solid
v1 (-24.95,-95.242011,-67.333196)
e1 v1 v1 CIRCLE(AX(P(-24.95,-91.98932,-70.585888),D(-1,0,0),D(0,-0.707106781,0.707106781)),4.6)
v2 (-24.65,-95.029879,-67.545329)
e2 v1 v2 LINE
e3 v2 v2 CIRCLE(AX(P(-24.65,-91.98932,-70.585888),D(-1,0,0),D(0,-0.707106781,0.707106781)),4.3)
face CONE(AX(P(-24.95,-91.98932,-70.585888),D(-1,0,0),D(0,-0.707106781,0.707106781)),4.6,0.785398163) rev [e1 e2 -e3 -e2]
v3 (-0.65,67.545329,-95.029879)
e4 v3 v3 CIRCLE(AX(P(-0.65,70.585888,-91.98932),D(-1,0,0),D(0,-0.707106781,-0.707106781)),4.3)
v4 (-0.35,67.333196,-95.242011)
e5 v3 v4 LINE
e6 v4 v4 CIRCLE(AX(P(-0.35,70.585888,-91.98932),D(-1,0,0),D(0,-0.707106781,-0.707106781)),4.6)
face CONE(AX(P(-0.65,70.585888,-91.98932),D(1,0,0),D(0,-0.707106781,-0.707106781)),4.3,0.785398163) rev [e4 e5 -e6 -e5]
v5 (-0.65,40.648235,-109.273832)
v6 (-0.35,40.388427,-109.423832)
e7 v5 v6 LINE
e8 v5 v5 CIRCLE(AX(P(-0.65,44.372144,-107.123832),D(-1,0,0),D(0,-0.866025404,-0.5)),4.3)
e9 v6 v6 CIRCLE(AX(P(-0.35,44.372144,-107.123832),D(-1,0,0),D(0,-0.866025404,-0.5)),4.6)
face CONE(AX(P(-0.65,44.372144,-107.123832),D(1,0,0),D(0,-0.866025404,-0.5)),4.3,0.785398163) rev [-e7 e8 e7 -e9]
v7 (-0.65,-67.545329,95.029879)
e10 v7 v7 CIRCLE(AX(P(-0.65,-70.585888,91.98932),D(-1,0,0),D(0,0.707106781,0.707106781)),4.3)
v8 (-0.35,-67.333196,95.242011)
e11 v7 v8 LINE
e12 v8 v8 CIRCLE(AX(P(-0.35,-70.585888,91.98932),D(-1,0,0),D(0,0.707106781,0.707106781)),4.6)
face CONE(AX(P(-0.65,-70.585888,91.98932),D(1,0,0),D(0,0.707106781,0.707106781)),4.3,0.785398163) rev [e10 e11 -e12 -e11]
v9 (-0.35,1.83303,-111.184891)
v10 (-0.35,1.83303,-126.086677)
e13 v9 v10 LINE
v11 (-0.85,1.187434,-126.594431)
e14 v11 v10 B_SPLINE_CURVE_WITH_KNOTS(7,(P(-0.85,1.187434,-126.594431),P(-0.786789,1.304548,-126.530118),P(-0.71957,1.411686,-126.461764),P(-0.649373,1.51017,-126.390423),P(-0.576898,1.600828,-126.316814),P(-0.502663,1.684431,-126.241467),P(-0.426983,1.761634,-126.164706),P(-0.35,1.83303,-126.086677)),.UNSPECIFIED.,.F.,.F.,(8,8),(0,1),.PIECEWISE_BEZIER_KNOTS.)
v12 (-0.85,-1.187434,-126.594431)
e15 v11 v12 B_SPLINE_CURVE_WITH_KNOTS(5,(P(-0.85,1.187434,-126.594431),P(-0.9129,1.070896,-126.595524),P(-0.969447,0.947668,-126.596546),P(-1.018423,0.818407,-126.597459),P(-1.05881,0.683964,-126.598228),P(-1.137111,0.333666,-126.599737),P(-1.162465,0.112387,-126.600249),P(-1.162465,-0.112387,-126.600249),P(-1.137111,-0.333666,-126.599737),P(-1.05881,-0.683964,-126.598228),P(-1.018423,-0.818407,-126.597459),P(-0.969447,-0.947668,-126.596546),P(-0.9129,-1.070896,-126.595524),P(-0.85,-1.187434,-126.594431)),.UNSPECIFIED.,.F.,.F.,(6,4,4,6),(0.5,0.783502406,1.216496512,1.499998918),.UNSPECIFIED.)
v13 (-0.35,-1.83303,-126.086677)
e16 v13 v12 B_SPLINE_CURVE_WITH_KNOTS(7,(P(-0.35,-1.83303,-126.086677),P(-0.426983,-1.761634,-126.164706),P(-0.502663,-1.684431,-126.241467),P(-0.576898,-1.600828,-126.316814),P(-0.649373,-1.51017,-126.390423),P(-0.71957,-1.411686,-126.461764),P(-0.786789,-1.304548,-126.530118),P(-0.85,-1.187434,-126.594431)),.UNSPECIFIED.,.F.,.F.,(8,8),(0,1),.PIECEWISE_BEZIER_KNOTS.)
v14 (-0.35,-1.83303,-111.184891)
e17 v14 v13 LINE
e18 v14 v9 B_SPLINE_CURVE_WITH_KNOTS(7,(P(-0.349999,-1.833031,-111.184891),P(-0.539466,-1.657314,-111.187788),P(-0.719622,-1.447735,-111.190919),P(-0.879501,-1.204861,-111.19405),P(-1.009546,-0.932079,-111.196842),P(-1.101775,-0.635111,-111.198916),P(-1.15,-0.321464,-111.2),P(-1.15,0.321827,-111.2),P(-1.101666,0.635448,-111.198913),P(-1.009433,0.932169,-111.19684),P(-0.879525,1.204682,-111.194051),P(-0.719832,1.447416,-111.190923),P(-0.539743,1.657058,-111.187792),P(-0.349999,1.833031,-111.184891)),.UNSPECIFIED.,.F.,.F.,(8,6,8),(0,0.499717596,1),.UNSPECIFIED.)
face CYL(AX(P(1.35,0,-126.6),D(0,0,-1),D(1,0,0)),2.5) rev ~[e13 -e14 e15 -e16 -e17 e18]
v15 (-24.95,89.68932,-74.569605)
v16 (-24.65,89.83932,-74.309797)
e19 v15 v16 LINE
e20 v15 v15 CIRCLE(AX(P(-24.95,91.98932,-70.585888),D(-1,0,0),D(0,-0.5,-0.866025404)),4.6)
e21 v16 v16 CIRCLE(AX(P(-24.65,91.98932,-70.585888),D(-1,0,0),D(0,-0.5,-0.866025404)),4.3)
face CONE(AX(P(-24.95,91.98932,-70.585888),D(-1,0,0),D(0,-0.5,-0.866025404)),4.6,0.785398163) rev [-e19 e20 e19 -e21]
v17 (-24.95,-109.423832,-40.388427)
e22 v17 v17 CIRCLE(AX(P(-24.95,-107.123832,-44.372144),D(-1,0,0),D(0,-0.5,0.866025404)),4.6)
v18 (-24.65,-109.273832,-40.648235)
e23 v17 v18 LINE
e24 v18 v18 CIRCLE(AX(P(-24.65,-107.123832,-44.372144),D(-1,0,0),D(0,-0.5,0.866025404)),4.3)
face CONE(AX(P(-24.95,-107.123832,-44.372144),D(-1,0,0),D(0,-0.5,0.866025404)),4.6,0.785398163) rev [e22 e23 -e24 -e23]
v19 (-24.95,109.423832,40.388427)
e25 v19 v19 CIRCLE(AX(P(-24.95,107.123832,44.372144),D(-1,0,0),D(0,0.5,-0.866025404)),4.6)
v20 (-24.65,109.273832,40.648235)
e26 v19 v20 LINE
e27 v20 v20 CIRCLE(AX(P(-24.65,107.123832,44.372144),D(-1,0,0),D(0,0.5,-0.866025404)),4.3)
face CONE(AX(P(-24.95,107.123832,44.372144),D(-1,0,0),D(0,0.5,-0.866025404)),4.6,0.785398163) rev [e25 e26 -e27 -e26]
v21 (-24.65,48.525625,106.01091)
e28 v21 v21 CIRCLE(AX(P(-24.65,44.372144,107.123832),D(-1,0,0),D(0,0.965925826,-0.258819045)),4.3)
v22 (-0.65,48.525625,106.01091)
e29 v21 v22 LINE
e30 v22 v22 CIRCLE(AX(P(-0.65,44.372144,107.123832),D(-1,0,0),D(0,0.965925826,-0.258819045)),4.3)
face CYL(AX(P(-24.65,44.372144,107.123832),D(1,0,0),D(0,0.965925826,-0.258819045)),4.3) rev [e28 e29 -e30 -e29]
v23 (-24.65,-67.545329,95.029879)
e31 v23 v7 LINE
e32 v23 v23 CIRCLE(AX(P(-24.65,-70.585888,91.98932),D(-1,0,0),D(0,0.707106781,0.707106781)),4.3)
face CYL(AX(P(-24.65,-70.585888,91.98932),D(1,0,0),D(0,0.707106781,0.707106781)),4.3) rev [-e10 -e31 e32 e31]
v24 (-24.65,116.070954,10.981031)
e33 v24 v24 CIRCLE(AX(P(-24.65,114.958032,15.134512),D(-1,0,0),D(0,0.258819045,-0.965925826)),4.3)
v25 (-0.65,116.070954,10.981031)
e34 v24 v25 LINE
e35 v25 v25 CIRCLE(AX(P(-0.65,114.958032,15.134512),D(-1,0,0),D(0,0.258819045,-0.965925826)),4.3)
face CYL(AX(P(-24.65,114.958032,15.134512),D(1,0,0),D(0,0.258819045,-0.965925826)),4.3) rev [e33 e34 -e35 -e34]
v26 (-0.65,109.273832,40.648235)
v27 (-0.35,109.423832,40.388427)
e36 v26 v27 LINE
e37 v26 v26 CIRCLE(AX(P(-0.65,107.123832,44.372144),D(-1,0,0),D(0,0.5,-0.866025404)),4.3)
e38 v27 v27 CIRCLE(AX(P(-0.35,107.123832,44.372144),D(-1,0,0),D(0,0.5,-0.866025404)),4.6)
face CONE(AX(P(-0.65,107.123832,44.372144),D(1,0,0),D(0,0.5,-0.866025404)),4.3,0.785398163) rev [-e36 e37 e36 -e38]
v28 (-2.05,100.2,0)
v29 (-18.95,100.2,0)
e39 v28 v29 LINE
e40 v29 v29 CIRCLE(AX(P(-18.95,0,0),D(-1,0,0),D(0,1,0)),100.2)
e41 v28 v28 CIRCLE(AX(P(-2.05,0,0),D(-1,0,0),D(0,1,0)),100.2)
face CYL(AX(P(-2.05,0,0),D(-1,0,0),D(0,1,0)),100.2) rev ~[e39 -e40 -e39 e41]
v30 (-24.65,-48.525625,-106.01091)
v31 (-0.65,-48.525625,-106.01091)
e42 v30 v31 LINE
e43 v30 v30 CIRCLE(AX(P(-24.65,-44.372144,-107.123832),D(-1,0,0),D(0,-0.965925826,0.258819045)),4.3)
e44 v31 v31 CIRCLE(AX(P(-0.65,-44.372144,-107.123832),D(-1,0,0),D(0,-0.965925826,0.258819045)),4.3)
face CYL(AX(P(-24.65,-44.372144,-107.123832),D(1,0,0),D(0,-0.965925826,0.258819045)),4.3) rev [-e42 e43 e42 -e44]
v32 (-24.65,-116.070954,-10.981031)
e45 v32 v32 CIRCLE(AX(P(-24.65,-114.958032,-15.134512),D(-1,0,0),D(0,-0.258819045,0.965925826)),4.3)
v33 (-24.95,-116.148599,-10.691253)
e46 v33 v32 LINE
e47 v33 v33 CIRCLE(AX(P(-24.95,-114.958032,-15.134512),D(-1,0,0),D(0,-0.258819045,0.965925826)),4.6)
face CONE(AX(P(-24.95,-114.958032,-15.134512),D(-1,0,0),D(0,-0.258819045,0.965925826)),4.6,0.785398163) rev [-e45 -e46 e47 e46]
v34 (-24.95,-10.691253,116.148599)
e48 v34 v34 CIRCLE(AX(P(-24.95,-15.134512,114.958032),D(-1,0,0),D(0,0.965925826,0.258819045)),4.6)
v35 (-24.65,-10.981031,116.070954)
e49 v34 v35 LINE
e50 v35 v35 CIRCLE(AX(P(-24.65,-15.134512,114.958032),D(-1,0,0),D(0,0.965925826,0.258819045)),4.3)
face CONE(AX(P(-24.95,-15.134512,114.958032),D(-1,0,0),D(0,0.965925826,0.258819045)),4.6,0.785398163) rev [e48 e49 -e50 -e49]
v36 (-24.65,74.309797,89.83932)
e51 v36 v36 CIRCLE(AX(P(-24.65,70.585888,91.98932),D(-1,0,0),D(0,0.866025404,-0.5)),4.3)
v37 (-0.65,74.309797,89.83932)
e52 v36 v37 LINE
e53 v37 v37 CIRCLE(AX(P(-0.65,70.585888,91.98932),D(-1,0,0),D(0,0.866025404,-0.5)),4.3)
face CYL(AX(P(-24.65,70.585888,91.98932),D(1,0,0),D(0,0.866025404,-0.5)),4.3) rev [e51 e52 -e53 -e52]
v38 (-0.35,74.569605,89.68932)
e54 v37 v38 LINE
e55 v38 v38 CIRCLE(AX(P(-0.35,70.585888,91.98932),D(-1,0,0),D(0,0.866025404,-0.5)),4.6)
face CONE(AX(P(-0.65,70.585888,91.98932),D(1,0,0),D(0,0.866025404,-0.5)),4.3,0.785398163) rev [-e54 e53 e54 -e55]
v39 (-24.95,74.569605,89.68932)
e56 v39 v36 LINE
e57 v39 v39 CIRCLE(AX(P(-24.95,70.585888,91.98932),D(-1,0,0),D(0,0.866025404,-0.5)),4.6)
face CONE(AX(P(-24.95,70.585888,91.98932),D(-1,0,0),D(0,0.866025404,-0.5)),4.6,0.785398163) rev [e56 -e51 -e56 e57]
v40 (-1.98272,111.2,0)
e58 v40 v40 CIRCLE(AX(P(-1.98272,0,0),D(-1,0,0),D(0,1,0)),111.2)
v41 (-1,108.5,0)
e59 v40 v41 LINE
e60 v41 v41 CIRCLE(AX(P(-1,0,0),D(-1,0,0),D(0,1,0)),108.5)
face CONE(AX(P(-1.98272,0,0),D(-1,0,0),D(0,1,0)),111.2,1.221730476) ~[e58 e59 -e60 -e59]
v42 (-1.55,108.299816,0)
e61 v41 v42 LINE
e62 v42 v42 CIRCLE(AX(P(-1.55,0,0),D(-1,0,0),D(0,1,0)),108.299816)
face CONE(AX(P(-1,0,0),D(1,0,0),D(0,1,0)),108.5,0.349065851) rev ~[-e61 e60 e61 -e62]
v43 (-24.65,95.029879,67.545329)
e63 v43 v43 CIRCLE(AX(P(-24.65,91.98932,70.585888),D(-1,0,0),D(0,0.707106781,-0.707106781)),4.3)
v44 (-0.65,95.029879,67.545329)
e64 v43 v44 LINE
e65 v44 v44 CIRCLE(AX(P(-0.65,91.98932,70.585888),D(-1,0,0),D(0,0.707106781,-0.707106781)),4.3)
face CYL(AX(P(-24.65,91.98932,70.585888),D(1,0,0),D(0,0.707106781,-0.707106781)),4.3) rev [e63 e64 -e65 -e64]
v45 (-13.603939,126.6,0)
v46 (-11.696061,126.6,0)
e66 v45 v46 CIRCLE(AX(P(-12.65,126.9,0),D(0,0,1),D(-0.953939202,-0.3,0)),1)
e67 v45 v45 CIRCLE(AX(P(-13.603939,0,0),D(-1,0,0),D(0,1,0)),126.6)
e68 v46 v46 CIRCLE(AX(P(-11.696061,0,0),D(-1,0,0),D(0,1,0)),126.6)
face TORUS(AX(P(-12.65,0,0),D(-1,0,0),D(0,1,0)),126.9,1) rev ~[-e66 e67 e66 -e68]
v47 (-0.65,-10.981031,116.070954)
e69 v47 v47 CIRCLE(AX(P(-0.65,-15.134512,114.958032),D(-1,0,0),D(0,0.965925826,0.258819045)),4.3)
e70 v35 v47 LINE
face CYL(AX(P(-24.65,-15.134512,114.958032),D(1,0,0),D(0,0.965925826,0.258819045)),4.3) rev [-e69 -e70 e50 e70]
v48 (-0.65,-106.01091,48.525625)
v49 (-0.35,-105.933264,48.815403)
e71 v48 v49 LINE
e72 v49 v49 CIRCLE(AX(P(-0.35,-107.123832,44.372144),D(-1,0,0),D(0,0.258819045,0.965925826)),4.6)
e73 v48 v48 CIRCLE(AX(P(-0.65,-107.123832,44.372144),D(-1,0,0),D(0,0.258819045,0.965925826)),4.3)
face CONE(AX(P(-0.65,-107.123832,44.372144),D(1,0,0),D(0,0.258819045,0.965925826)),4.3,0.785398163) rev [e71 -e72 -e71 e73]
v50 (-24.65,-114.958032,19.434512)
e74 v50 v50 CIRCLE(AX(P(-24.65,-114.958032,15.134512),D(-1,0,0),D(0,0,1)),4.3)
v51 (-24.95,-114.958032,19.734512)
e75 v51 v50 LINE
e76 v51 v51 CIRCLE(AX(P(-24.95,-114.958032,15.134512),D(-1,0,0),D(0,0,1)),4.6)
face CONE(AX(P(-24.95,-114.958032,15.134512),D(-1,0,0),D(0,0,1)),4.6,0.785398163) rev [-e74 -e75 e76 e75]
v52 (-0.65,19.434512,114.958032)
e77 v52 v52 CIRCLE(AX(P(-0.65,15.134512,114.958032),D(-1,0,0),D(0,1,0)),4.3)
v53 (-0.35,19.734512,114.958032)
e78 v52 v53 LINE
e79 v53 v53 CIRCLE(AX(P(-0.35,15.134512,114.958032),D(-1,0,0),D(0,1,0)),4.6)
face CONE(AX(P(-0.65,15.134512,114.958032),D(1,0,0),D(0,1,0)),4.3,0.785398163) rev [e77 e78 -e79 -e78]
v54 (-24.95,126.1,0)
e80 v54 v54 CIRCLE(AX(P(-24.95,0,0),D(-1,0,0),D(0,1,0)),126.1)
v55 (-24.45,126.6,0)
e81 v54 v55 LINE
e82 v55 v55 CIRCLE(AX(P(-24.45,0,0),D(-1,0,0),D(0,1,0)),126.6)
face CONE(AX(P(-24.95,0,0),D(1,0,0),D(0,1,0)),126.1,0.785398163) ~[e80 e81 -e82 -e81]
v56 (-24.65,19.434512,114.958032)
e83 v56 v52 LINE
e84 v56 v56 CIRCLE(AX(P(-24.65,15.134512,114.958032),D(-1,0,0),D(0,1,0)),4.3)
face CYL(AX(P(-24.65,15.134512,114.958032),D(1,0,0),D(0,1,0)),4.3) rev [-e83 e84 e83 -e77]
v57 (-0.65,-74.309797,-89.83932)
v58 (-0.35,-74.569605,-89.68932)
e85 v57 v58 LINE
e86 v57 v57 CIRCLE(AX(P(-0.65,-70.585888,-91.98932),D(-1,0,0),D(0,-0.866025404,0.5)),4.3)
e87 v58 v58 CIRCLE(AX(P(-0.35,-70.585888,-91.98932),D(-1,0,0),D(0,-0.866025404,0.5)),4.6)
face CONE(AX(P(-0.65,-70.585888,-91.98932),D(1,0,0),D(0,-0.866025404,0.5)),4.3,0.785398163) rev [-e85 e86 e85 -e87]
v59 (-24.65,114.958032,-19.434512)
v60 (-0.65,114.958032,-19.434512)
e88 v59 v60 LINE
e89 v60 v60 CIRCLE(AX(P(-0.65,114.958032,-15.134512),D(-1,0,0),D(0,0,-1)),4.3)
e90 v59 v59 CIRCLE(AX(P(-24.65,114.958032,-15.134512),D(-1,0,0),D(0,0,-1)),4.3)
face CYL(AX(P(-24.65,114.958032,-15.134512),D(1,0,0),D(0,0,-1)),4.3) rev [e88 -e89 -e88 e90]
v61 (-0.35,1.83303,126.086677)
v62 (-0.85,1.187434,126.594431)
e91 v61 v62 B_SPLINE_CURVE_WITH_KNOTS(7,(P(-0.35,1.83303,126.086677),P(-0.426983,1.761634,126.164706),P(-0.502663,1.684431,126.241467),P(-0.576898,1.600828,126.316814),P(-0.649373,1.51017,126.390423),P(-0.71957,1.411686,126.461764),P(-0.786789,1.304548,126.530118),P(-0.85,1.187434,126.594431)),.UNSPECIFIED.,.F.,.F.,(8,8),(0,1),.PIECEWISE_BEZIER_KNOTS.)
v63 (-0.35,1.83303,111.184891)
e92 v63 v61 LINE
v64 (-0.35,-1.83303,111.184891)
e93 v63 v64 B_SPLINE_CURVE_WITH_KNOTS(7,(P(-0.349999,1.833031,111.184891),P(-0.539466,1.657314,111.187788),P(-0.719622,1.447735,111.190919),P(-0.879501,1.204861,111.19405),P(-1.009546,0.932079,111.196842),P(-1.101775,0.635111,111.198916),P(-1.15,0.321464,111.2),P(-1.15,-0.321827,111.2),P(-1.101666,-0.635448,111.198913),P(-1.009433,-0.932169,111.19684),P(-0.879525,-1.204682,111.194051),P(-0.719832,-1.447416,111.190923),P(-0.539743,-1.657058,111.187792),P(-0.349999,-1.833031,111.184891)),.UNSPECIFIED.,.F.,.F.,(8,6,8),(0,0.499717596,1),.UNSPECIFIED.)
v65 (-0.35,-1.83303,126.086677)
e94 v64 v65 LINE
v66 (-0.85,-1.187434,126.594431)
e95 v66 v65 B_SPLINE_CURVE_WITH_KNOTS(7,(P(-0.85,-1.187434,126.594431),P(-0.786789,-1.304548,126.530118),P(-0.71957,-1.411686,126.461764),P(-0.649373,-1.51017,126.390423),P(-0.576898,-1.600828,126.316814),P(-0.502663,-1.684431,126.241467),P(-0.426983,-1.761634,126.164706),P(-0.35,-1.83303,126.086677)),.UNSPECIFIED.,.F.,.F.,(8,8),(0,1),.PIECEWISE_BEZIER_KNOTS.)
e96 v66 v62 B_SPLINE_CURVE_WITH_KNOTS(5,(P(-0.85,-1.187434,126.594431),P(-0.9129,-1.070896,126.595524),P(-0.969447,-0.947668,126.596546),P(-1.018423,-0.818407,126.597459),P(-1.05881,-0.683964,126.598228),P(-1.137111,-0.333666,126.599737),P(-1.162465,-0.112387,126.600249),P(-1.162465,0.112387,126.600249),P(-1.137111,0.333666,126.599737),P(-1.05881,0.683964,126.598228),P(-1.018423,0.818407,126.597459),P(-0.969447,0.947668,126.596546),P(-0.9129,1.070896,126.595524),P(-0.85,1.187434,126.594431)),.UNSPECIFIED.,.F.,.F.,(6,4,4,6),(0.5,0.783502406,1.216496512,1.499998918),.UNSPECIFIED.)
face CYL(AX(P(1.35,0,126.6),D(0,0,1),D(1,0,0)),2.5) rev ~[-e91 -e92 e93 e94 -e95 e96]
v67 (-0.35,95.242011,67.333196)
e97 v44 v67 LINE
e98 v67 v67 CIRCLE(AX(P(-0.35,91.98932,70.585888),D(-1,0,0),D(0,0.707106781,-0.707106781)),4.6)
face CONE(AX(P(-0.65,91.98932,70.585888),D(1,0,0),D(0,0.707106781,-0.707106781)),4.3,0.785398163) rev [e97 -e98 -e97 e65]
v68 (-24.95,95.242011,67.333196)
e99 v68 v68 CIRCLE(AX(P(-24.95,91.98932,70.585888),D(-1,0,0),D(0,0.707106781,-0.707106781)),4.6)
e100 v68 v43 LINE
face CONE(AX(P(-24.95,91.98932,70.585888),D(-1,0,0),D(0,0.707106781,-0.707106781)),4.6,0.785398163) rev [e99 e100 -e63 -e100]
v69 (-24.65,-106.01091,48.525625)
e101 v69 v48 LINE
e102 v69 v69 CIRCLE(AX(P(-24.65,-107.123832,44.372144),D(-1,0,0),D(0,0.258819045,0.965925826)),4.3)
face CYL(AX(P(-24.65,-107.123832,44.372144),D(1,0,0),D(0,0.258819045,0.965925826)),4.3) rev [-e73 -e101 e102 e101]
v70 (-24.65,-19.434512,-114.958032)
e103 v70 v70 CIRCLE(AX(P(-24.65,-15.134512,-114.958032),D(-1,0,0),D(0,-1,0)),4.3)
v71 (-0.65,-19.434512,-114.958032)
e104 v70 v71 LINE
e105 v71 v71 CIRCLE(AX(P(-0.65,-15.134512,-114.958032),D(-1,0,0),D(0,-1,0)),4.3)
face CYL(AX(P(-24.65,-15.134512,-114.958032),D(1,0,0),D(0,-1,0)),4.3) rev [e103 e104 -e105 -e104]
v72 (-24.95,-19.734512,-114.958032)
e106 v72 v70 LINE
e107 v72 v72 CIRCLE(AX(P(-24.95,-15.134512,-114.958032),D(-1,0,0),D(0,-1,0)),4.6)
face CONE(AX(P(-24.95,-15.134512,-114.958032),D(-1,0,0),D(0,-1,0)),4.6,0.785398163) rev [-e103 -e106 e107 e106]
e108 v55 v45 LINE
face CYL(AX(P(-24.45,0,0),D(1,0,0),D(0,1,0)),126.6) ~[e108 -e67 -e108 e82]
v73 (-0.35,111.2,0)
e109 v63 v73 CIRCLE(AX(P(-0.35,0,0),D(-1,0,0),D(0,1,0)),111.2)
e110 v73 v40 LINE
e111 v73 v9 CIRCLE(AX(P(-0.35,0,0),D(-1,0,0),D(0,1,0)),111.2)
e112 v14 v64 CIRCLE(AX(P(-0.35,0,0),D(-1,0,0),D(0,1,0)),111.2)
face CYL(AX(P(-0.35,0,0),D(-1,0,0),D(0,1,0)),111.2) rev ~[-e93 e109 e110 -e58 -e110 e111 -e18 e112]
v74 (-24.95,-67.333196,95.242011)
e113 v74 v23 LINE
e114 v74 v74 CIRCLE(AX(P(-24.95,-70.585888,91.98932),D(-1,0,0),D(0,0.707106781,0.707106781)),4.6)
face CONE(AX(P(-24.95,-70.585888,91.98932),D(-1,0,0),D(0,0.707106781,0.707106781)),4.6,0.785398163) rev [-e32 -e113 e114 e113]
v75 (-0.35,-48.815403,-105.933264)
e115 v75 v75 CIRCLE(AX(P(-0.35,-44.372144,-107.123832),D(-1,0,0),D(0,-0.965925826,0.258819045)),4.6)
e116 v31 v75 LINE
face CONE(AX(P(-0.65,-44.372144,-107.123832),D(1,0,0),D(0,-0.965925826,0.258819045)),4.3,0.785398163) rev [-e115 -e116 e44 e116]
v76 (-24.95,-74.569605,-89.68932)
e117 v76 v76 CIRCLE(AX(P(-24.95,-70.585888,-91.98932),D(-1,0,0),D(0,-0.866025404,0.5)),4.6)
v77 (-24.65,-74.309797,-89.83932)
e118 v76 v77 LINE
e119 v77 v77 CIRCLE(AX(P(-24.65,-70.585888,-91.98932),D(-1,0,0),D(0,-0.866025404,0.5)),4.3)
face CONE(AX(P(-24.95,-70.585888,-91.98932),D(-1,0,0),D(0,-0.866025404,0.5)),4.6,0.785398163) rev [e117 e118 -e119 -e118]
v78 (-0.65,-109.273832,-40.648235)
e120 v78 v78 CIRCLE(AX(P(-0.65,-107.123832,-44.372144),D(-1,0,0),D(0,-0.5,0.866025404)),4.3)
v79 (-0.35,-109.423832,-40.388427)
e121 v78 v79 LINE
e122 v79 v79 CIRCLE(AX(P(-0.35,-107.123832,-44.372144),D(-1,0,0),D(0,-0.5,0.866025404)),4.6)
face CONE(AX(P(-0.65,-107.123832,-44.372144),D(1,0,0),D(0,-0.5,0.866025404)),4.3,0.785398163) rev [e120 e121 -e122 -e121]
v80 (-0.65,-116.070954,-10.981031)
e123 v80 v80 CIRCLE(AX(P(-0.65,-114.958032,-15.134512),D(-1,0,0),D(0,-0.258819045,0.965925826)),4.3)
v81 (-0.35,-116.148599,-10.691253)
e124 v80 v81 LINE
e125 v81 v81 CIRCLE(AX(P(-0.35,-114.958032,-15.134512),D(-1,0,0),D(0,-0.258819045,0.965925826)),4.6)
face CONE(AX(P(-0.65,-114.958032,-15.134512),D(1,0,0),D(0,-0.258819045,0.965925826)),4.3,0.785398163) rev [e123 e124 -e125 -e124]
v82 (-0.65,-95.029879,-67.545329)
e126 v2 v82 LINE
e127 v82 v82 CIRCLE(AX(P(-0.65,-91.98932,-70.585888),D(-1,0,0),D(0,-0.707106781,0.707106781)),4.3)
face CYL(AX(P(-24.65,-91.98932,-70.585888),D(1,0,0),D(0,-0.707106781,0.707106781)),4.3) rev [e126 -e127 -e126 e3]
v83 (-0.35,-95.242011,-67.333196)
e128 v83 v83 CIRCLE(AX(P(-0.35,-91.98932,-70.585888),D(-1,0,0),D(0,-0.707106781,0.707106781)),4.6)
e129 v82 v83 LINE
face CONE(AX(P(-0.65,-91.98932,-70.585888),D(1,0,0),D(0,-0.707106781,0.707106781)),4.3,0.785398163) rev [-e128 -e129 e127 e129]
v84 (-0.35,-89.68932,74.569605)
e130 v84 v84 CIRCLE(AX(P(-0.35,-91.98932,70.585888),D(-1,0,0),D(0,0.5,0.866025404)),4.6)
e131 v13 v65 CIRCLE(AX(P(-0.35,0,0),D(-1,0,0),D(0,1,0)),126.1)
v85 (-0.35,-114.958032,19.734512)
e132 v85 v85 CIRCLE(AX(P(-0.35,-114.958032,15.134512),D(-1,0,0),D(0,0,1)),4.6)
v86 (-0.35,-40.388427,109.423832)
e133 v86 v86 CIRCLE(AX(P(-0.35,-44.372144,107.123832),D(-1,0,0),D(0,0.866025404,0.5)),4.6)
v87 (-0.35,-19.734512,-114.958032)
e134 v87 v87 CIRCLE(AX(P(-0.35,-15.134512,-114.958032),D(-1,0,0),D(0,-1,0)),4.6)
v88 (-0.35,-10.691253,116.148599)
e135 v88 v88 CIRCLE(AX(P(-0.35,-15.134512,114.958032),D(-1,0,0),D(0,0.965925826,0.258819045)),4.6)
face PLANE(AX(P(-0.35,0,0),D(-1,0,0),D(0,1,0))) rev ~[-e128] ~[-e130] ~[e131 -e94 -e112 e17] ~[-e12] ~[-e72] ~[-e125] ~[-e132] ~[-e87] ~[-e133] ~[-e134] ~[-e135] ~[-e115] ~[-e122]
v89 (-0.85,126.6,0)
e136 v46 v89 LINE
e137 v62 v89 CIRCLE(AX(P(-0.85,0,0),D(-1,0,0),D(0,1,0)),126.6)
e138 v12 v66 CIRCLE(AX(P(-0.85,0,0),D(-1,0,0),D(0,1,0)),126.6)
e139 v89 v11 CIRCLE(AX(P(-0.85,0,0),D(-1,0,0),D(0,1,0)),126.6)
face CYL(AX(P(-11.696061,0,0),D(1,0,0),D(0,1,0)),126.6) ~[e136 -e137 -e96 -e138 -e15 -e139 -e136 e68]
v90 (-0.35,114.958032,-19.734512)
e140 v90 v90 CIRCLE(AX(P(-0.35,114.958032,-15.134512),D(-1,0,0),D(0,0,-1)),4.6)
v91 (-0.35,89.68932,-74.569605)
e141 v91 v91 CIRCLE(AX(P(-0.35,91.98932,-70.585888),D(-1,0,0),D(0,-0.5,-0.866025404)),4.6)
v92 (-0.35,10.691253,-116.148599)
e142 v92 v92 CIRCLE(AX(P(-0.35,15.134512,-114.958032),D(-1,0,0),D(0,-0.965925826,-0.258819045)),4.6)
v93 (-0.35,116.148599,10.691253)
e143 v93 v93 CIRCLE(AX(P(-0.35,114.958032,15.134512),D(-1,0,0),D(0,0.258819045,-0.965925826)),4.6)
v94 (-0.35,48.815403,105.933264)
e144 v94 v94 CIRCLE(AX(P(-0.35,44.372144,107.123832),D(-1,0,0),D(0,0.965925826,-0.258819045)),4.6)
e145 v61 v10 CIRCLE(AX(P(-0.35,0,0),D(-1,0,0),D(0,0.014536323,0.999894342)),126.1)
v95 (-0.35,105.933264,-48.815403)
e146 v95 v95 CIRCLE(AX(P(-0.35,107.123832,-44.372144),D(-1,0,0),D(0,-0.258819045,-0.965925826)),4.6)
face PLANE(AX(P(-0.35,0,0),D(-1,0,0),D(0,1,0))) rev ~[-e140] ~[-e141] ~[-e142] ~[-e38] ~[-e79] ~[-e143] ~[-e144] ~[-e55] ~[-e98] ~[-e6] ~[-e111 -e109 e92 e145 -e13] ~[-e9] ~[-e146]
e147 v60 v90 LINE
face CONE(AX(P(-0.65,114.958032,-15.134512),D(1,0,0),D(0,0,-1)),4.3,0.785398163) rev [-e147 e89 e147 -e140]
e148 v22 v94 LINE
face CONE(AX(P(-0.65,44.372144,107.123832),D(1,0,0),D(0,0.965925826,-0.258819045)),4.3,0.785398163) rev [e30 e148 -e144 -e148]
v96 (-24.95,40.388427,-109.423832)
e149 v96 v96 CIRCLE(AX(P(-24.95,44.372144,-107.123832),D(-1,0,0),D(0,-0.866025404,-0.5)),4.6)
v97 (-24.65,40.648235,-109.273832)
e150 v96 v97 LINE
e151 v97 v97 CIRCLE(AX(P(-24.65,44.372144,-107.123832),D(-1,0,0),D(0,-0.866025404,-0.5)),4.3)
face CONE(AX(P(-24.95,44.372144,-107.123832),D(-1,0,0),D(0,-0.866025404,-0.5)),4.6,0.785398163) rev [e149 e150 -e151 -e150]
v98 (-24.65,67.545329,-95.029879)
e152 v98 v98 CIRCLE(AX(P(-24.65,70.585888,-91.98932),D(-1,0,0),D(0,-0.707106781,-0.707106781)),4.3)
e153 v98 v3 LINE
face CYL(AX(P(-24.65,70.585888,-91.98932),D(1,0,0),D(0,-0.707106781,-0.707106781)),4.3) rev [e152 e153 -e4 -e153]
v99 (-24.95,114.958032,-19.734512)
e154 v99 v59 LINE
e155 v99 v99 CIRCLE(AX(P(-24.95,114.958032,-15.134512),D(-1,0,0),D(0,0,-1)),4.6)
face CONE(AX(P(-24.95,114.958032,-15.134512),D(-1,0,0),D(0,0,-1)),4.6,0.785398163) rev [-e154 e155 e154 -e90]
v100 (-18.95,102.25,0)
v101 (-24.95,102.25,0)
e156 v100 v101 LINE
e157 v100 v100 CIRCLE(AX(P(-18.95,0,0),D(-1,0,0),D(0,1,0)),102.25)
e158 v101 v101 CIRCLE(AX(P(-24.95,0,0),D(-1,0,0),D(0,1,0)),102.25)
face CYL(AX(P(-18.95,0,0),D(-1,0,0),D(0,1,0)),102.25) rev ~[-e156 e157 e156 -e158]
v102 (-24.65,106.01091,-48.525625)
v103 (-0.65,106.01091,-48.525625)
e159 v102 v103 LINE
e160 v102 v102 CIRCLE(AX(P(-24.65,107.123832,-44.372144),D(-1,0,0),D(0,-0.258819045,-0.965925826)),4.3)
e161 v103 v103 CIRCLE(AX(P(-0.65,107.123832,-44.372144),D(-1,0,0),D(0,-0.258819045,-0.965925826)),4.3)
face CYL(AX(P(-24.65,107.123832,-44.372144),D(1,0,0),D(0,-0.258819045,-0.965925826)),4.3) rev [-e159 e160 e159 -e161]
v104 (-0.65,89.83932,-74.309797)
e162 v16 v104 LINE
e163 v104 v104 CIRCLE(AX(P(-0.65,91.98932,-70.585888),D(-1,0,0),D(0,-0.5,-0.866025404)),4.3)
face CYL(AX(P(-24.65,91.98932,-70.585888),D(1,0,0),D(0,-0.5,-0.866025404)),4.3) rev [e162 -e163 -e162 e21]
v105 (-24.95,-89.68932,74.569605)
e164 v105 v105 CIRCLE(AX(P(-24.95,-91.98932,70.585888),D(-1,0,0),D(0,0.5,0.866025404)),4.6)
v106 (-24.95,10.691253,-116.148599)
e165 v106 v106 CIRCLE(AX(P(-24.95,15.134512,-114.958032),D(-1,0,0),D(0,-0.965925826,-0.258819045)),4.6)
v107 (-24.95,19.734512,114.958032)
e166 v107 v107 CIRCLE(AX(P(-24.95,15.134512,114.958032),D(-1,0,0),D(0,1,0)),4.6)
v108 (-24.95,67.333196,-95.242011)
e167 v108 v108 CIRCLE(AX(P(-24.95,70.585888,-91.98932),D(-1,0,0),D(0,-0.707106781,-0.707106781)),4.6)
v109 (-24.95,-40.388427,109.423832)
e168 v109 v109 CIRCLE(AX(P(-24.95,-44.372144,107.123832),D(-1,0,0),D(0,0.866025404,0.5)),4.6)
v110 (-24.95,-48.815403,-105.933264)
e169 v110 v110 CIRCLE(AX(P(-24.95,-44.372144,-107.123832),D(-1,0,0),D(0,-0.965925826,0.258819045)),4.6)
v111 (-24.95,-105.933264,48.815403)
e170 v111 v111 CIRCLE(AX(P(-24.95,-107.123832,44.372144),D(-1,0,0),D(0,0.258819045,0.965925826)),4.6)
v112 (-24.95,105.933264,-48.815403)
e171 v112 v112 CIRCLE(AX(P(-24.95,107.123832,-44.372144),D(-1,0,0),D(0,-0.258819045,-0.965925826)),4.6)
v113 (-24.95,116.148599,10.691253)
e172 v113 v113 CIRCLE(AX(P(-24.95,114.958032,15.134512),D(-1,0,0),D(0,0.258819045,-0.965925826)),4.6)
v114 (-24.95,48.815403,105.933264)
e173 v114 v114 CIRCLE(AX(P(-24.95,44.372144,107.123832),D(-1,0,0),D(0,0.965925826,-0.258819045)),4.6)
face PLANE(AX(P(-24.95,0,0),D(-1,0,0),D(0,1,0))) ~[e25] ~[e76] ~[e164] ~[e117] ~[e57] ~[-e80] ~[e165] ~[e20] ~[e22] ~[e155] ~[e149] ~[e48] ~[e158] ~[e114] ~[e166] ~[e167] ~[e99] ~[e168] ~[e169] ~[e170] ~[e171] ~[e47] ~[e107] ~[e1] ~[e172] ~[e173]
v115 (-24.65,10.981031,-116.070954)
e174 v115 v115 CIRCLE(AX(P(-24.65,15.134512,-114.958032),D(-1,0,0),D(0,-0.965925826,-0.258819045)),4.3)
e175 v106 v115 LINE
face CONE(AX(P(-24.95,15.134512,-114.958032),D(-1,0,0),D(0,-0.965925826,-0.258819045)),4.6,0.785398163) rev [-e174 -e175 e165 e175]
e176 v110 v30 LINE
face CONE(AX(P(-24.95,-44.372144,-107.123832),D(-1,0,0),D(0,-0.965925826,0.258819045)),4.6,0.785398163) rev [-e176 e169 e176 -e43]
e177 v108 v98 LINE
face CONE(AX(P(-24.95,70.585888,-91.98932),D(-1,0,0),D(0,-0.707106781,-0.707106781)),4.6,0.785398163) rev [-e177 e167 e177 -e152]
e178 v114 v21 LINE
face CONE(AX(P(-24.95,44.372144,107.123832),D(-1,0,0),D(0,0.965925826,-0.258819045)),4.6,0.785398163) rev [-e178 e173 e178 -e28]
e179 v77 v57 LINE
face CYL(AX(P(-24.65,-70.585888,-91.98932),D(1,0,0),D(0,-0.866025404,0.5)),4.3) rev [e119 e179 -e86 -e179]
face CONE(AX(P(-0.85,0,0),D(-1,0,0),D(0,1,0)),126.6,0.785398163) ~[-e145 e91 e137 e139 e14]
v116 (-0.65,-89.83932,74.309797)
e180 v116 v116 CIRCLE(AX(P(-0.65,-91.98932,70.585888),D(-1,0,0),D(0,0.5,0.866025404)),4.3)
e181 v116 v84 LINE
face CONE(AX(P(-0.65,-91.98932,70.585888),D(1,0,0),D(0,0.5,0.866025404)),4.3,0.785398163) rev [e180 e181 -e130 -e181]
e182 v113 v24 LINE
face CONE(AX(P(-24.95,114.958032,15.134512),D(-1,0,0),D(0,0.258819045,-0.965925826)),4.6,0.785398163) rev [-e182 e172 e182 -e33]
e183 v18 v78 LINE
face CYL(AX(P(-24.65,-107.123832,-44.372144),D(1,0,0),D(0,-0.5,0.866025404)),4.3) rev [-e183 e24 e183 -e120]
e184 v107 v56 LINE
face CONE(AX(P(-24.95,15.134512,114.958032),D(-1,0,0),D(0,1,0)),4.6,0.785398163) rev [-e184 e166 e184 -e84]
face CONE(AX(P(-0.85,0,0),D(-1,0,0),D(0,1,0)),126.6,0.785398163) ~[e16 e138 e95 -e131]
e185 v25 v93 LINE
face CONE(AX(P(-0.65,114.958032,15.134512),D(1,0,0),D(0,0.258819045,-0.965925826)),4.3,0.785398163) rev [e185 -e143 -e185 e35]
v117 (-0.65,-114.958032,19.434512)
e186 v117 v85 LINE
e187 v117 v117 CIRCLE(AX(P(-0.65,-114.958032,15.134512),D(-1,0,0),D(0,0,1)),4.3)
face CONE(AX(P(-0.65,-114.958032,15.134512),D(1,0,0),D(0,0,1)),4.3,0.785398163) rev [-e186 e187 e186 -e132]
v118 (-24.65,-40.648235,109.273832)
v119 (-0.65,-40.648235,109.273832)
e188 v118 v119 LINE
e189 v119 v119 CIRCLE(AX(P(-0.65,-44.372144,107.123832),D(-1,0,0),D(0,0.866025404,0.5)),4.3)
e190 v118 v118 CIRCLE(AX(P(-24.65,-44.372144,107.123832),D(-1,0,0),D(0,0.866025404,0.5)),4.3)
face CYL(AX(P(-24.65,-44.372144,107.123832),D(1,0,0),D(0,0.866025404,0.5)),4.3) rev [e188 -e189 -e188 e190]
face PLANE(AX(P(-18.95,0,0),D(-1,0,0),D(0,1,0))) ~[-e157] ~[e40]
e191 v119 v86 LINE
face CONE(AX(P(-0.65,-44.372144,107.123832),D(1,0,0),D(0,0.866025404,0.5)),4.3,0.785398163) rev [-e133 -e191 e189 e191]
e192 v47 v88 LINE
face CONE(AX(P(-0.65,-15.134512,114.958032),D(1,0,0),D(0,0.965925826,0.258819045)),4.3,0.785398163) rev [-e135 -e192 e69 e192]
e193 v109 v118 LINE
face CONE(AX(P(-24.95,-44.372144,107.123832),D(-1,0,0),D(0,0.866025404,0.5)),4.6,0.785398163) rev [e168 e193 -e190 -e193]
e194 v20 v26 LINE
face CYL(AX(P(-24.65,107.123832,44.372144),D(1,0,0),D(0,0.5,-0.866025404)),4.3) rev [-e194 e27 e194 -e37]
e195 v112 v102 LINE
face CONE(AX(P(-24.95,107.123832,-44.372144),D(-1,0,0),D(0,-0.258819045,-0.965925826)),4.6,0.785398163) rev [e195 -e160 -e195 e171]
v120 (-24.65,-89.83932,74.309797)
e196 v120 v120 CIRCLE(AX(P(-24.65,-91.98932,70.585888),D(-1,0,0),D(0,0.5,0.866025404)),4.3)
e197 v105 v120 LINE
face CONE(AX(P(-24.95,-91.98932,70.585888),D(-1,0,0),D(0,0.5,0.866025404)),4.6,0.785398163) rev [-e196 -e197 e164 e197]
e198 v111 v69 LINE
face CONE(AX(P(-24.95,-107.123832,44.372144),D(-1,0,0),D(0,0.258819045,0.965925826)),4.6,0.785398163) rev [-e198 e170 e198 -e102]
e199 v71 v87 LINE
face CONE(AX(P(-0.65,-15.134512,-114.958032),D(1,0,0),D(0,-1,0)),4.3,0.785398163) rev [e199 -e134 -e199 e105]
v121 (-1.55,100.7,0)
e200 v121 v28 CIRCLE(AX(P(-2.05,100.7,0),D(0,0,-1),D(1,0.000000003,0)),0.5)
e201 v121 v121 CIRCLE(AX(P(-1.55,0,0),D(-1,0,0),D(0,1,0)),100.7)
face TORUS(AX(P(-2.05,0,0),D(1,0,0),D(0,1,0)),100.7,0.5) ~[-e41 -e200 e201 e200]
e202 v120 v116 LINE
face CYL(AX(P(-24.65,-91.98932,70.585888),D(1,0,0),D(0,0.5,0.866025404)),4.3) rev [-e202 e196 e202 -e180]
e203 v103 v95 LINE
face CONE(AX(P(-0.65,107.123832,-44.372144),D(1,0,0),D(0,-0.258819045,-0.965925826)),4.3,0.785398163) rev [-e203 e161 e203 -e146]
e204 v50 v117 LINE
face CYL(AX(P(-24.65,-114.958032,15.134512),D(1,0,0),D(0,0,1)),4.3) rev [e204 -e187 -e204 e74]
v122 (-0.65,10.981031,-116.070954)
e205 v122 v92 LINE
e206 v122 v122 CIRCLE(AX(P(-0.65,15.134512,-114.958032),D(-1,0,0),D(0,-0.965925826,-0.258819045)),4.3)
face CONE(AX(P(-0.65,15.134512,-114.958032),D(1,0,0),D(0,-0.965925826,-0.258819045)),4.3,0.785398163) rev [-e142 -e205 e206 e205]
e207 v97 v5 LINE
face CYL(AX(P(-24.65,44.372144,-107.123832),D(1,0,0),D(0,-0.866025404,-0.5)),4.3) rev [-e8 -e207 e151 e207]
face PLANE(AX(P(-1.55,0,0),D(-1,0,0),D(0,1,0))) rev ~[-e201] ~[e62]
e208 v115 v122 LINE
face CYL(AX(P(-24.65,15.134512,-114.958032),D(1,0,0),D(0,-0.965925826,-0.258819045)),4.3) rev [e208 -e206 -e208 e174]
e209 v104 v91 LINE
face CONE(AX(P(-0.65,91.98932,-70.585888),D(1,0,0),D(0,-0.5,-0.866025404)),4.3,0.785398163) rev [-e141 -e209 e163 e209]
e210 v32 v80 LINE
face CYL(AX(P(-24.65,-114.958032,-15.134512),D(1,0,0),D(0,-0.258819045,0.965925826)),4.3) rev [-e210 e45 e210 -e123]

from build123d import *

# Parameters (mm, degrees)
PATTERN_CIRCULAR_3_COUNT = 24
SKETCH_6_R               = 2.5
CUT_EXTRUDE_1_DEPTH      = 17
PATTERN_CIRCULAR_2_COUNT = 2


with BuildPart() as part:
    # Эскиз1 → Повернуть2 (revolve)
    with BuildSketch(Plane.XY):
        with BuildLine():
            Line((-13.603939201, 126.6), (-24.45, 126.6))
            Line((-24.45, 126.6), (-24.95, 126.1))
            Line((-24.95, 126.1), (-24.95, 102.25))
            Line((-24.95, 102.25), (-18.95, 102.25))
            Line((-18.95, 102.25), (-18.95, 100.2))
            Line((-18.95, 100.2), (-2.05, 100.2))
            ThreePointArc((-2.05, 100.2), (-1.696446609, 100.346446609), (-1.55, 100.7))
            Line((-1.55, 100.7), (-1.55, 108.299816371))
            Line((-1.55, 108.299816371), (-1, 108.5))
            Line((-1, 108.5), (-1.982719633, 111.2))
            Line((-1.982719633, 111.2), (-0.35, 111.2))
            Line((-0.35, 111.2), (-0.35, 126.1))
            Line((-0.35, 126.1), (-0.85, 126.6))
            Line((-0.85, 126.6), (-11.696060799, 126.6))
            ThreePointArc((-11.696060799, 126.6), (-12.65, 125.9), (-13.603939201, 126.6))
        make_face()
    revolve(axis=Axis((0, 0, 0), (-1, 0, 0)))

    # Эскиз2 → Отверстие с зазором M81 (revolve, cut)
    with BuildSketch(Plane(origin=(-0.35, 114.958031676, -15.134511988), x_dir=(0, 0, -1), z_dir=(0, 1, 0))):
        Polygon((0, 0), (0, 24.6), (4.6, 24.6), (4.3, 24.3), (4.3, 0.3), (4.6, 0), align=None)
    hole_wizard_m81 = revolve(axis=Axis((6, 114.958031676, -15.134511988), (-1, 0, 0)), mode=Mode.SUBTRACT)

    # Круговой массив3: Отверстие с зазором M81 ×24 about axis
    pattern_circular_3_axis = Axis((-110.150658921, 0, 0), (1, 0, 0))
    for i in range(1, PATTERN_CIRCULAR_3_COUNT):
        add(hole_wizard_m81.rotate(pattern_circular_3_axis, i * 360 / PATTERN_CIRCULAR_3_COUNT), mode=Mode.SUBTRACT)

    # Эскиз6 → Вырез-Вытянуть1 (cut)
    with BuildSketch(Plane.XY.offset(126.6)):
        with Locations((1.35, 0)):
            Circle(SKETCH_6_R)
    cut_extrude_1 = extrude(amount=-CUT_EXTRUDE_1_DEPTH, mode=Mode.SUBTRACT)

    # Круговой массив2: Вырез-Вытянуть1 ×2 about axis
    pattern_circular_2_axis = Axis((-110.150658921, 0, 0), (1, 0, 0))
    for i in range(1, PATTERN_CIRCULAR_2_COUNT):
        add(cut_extrude_1.rotate(pattern_circular_2_axis, i * 360 / PATTERN_CIRCULAR_2_COUNT), mode=Mode.SUBTRACT)


solid = part.part
